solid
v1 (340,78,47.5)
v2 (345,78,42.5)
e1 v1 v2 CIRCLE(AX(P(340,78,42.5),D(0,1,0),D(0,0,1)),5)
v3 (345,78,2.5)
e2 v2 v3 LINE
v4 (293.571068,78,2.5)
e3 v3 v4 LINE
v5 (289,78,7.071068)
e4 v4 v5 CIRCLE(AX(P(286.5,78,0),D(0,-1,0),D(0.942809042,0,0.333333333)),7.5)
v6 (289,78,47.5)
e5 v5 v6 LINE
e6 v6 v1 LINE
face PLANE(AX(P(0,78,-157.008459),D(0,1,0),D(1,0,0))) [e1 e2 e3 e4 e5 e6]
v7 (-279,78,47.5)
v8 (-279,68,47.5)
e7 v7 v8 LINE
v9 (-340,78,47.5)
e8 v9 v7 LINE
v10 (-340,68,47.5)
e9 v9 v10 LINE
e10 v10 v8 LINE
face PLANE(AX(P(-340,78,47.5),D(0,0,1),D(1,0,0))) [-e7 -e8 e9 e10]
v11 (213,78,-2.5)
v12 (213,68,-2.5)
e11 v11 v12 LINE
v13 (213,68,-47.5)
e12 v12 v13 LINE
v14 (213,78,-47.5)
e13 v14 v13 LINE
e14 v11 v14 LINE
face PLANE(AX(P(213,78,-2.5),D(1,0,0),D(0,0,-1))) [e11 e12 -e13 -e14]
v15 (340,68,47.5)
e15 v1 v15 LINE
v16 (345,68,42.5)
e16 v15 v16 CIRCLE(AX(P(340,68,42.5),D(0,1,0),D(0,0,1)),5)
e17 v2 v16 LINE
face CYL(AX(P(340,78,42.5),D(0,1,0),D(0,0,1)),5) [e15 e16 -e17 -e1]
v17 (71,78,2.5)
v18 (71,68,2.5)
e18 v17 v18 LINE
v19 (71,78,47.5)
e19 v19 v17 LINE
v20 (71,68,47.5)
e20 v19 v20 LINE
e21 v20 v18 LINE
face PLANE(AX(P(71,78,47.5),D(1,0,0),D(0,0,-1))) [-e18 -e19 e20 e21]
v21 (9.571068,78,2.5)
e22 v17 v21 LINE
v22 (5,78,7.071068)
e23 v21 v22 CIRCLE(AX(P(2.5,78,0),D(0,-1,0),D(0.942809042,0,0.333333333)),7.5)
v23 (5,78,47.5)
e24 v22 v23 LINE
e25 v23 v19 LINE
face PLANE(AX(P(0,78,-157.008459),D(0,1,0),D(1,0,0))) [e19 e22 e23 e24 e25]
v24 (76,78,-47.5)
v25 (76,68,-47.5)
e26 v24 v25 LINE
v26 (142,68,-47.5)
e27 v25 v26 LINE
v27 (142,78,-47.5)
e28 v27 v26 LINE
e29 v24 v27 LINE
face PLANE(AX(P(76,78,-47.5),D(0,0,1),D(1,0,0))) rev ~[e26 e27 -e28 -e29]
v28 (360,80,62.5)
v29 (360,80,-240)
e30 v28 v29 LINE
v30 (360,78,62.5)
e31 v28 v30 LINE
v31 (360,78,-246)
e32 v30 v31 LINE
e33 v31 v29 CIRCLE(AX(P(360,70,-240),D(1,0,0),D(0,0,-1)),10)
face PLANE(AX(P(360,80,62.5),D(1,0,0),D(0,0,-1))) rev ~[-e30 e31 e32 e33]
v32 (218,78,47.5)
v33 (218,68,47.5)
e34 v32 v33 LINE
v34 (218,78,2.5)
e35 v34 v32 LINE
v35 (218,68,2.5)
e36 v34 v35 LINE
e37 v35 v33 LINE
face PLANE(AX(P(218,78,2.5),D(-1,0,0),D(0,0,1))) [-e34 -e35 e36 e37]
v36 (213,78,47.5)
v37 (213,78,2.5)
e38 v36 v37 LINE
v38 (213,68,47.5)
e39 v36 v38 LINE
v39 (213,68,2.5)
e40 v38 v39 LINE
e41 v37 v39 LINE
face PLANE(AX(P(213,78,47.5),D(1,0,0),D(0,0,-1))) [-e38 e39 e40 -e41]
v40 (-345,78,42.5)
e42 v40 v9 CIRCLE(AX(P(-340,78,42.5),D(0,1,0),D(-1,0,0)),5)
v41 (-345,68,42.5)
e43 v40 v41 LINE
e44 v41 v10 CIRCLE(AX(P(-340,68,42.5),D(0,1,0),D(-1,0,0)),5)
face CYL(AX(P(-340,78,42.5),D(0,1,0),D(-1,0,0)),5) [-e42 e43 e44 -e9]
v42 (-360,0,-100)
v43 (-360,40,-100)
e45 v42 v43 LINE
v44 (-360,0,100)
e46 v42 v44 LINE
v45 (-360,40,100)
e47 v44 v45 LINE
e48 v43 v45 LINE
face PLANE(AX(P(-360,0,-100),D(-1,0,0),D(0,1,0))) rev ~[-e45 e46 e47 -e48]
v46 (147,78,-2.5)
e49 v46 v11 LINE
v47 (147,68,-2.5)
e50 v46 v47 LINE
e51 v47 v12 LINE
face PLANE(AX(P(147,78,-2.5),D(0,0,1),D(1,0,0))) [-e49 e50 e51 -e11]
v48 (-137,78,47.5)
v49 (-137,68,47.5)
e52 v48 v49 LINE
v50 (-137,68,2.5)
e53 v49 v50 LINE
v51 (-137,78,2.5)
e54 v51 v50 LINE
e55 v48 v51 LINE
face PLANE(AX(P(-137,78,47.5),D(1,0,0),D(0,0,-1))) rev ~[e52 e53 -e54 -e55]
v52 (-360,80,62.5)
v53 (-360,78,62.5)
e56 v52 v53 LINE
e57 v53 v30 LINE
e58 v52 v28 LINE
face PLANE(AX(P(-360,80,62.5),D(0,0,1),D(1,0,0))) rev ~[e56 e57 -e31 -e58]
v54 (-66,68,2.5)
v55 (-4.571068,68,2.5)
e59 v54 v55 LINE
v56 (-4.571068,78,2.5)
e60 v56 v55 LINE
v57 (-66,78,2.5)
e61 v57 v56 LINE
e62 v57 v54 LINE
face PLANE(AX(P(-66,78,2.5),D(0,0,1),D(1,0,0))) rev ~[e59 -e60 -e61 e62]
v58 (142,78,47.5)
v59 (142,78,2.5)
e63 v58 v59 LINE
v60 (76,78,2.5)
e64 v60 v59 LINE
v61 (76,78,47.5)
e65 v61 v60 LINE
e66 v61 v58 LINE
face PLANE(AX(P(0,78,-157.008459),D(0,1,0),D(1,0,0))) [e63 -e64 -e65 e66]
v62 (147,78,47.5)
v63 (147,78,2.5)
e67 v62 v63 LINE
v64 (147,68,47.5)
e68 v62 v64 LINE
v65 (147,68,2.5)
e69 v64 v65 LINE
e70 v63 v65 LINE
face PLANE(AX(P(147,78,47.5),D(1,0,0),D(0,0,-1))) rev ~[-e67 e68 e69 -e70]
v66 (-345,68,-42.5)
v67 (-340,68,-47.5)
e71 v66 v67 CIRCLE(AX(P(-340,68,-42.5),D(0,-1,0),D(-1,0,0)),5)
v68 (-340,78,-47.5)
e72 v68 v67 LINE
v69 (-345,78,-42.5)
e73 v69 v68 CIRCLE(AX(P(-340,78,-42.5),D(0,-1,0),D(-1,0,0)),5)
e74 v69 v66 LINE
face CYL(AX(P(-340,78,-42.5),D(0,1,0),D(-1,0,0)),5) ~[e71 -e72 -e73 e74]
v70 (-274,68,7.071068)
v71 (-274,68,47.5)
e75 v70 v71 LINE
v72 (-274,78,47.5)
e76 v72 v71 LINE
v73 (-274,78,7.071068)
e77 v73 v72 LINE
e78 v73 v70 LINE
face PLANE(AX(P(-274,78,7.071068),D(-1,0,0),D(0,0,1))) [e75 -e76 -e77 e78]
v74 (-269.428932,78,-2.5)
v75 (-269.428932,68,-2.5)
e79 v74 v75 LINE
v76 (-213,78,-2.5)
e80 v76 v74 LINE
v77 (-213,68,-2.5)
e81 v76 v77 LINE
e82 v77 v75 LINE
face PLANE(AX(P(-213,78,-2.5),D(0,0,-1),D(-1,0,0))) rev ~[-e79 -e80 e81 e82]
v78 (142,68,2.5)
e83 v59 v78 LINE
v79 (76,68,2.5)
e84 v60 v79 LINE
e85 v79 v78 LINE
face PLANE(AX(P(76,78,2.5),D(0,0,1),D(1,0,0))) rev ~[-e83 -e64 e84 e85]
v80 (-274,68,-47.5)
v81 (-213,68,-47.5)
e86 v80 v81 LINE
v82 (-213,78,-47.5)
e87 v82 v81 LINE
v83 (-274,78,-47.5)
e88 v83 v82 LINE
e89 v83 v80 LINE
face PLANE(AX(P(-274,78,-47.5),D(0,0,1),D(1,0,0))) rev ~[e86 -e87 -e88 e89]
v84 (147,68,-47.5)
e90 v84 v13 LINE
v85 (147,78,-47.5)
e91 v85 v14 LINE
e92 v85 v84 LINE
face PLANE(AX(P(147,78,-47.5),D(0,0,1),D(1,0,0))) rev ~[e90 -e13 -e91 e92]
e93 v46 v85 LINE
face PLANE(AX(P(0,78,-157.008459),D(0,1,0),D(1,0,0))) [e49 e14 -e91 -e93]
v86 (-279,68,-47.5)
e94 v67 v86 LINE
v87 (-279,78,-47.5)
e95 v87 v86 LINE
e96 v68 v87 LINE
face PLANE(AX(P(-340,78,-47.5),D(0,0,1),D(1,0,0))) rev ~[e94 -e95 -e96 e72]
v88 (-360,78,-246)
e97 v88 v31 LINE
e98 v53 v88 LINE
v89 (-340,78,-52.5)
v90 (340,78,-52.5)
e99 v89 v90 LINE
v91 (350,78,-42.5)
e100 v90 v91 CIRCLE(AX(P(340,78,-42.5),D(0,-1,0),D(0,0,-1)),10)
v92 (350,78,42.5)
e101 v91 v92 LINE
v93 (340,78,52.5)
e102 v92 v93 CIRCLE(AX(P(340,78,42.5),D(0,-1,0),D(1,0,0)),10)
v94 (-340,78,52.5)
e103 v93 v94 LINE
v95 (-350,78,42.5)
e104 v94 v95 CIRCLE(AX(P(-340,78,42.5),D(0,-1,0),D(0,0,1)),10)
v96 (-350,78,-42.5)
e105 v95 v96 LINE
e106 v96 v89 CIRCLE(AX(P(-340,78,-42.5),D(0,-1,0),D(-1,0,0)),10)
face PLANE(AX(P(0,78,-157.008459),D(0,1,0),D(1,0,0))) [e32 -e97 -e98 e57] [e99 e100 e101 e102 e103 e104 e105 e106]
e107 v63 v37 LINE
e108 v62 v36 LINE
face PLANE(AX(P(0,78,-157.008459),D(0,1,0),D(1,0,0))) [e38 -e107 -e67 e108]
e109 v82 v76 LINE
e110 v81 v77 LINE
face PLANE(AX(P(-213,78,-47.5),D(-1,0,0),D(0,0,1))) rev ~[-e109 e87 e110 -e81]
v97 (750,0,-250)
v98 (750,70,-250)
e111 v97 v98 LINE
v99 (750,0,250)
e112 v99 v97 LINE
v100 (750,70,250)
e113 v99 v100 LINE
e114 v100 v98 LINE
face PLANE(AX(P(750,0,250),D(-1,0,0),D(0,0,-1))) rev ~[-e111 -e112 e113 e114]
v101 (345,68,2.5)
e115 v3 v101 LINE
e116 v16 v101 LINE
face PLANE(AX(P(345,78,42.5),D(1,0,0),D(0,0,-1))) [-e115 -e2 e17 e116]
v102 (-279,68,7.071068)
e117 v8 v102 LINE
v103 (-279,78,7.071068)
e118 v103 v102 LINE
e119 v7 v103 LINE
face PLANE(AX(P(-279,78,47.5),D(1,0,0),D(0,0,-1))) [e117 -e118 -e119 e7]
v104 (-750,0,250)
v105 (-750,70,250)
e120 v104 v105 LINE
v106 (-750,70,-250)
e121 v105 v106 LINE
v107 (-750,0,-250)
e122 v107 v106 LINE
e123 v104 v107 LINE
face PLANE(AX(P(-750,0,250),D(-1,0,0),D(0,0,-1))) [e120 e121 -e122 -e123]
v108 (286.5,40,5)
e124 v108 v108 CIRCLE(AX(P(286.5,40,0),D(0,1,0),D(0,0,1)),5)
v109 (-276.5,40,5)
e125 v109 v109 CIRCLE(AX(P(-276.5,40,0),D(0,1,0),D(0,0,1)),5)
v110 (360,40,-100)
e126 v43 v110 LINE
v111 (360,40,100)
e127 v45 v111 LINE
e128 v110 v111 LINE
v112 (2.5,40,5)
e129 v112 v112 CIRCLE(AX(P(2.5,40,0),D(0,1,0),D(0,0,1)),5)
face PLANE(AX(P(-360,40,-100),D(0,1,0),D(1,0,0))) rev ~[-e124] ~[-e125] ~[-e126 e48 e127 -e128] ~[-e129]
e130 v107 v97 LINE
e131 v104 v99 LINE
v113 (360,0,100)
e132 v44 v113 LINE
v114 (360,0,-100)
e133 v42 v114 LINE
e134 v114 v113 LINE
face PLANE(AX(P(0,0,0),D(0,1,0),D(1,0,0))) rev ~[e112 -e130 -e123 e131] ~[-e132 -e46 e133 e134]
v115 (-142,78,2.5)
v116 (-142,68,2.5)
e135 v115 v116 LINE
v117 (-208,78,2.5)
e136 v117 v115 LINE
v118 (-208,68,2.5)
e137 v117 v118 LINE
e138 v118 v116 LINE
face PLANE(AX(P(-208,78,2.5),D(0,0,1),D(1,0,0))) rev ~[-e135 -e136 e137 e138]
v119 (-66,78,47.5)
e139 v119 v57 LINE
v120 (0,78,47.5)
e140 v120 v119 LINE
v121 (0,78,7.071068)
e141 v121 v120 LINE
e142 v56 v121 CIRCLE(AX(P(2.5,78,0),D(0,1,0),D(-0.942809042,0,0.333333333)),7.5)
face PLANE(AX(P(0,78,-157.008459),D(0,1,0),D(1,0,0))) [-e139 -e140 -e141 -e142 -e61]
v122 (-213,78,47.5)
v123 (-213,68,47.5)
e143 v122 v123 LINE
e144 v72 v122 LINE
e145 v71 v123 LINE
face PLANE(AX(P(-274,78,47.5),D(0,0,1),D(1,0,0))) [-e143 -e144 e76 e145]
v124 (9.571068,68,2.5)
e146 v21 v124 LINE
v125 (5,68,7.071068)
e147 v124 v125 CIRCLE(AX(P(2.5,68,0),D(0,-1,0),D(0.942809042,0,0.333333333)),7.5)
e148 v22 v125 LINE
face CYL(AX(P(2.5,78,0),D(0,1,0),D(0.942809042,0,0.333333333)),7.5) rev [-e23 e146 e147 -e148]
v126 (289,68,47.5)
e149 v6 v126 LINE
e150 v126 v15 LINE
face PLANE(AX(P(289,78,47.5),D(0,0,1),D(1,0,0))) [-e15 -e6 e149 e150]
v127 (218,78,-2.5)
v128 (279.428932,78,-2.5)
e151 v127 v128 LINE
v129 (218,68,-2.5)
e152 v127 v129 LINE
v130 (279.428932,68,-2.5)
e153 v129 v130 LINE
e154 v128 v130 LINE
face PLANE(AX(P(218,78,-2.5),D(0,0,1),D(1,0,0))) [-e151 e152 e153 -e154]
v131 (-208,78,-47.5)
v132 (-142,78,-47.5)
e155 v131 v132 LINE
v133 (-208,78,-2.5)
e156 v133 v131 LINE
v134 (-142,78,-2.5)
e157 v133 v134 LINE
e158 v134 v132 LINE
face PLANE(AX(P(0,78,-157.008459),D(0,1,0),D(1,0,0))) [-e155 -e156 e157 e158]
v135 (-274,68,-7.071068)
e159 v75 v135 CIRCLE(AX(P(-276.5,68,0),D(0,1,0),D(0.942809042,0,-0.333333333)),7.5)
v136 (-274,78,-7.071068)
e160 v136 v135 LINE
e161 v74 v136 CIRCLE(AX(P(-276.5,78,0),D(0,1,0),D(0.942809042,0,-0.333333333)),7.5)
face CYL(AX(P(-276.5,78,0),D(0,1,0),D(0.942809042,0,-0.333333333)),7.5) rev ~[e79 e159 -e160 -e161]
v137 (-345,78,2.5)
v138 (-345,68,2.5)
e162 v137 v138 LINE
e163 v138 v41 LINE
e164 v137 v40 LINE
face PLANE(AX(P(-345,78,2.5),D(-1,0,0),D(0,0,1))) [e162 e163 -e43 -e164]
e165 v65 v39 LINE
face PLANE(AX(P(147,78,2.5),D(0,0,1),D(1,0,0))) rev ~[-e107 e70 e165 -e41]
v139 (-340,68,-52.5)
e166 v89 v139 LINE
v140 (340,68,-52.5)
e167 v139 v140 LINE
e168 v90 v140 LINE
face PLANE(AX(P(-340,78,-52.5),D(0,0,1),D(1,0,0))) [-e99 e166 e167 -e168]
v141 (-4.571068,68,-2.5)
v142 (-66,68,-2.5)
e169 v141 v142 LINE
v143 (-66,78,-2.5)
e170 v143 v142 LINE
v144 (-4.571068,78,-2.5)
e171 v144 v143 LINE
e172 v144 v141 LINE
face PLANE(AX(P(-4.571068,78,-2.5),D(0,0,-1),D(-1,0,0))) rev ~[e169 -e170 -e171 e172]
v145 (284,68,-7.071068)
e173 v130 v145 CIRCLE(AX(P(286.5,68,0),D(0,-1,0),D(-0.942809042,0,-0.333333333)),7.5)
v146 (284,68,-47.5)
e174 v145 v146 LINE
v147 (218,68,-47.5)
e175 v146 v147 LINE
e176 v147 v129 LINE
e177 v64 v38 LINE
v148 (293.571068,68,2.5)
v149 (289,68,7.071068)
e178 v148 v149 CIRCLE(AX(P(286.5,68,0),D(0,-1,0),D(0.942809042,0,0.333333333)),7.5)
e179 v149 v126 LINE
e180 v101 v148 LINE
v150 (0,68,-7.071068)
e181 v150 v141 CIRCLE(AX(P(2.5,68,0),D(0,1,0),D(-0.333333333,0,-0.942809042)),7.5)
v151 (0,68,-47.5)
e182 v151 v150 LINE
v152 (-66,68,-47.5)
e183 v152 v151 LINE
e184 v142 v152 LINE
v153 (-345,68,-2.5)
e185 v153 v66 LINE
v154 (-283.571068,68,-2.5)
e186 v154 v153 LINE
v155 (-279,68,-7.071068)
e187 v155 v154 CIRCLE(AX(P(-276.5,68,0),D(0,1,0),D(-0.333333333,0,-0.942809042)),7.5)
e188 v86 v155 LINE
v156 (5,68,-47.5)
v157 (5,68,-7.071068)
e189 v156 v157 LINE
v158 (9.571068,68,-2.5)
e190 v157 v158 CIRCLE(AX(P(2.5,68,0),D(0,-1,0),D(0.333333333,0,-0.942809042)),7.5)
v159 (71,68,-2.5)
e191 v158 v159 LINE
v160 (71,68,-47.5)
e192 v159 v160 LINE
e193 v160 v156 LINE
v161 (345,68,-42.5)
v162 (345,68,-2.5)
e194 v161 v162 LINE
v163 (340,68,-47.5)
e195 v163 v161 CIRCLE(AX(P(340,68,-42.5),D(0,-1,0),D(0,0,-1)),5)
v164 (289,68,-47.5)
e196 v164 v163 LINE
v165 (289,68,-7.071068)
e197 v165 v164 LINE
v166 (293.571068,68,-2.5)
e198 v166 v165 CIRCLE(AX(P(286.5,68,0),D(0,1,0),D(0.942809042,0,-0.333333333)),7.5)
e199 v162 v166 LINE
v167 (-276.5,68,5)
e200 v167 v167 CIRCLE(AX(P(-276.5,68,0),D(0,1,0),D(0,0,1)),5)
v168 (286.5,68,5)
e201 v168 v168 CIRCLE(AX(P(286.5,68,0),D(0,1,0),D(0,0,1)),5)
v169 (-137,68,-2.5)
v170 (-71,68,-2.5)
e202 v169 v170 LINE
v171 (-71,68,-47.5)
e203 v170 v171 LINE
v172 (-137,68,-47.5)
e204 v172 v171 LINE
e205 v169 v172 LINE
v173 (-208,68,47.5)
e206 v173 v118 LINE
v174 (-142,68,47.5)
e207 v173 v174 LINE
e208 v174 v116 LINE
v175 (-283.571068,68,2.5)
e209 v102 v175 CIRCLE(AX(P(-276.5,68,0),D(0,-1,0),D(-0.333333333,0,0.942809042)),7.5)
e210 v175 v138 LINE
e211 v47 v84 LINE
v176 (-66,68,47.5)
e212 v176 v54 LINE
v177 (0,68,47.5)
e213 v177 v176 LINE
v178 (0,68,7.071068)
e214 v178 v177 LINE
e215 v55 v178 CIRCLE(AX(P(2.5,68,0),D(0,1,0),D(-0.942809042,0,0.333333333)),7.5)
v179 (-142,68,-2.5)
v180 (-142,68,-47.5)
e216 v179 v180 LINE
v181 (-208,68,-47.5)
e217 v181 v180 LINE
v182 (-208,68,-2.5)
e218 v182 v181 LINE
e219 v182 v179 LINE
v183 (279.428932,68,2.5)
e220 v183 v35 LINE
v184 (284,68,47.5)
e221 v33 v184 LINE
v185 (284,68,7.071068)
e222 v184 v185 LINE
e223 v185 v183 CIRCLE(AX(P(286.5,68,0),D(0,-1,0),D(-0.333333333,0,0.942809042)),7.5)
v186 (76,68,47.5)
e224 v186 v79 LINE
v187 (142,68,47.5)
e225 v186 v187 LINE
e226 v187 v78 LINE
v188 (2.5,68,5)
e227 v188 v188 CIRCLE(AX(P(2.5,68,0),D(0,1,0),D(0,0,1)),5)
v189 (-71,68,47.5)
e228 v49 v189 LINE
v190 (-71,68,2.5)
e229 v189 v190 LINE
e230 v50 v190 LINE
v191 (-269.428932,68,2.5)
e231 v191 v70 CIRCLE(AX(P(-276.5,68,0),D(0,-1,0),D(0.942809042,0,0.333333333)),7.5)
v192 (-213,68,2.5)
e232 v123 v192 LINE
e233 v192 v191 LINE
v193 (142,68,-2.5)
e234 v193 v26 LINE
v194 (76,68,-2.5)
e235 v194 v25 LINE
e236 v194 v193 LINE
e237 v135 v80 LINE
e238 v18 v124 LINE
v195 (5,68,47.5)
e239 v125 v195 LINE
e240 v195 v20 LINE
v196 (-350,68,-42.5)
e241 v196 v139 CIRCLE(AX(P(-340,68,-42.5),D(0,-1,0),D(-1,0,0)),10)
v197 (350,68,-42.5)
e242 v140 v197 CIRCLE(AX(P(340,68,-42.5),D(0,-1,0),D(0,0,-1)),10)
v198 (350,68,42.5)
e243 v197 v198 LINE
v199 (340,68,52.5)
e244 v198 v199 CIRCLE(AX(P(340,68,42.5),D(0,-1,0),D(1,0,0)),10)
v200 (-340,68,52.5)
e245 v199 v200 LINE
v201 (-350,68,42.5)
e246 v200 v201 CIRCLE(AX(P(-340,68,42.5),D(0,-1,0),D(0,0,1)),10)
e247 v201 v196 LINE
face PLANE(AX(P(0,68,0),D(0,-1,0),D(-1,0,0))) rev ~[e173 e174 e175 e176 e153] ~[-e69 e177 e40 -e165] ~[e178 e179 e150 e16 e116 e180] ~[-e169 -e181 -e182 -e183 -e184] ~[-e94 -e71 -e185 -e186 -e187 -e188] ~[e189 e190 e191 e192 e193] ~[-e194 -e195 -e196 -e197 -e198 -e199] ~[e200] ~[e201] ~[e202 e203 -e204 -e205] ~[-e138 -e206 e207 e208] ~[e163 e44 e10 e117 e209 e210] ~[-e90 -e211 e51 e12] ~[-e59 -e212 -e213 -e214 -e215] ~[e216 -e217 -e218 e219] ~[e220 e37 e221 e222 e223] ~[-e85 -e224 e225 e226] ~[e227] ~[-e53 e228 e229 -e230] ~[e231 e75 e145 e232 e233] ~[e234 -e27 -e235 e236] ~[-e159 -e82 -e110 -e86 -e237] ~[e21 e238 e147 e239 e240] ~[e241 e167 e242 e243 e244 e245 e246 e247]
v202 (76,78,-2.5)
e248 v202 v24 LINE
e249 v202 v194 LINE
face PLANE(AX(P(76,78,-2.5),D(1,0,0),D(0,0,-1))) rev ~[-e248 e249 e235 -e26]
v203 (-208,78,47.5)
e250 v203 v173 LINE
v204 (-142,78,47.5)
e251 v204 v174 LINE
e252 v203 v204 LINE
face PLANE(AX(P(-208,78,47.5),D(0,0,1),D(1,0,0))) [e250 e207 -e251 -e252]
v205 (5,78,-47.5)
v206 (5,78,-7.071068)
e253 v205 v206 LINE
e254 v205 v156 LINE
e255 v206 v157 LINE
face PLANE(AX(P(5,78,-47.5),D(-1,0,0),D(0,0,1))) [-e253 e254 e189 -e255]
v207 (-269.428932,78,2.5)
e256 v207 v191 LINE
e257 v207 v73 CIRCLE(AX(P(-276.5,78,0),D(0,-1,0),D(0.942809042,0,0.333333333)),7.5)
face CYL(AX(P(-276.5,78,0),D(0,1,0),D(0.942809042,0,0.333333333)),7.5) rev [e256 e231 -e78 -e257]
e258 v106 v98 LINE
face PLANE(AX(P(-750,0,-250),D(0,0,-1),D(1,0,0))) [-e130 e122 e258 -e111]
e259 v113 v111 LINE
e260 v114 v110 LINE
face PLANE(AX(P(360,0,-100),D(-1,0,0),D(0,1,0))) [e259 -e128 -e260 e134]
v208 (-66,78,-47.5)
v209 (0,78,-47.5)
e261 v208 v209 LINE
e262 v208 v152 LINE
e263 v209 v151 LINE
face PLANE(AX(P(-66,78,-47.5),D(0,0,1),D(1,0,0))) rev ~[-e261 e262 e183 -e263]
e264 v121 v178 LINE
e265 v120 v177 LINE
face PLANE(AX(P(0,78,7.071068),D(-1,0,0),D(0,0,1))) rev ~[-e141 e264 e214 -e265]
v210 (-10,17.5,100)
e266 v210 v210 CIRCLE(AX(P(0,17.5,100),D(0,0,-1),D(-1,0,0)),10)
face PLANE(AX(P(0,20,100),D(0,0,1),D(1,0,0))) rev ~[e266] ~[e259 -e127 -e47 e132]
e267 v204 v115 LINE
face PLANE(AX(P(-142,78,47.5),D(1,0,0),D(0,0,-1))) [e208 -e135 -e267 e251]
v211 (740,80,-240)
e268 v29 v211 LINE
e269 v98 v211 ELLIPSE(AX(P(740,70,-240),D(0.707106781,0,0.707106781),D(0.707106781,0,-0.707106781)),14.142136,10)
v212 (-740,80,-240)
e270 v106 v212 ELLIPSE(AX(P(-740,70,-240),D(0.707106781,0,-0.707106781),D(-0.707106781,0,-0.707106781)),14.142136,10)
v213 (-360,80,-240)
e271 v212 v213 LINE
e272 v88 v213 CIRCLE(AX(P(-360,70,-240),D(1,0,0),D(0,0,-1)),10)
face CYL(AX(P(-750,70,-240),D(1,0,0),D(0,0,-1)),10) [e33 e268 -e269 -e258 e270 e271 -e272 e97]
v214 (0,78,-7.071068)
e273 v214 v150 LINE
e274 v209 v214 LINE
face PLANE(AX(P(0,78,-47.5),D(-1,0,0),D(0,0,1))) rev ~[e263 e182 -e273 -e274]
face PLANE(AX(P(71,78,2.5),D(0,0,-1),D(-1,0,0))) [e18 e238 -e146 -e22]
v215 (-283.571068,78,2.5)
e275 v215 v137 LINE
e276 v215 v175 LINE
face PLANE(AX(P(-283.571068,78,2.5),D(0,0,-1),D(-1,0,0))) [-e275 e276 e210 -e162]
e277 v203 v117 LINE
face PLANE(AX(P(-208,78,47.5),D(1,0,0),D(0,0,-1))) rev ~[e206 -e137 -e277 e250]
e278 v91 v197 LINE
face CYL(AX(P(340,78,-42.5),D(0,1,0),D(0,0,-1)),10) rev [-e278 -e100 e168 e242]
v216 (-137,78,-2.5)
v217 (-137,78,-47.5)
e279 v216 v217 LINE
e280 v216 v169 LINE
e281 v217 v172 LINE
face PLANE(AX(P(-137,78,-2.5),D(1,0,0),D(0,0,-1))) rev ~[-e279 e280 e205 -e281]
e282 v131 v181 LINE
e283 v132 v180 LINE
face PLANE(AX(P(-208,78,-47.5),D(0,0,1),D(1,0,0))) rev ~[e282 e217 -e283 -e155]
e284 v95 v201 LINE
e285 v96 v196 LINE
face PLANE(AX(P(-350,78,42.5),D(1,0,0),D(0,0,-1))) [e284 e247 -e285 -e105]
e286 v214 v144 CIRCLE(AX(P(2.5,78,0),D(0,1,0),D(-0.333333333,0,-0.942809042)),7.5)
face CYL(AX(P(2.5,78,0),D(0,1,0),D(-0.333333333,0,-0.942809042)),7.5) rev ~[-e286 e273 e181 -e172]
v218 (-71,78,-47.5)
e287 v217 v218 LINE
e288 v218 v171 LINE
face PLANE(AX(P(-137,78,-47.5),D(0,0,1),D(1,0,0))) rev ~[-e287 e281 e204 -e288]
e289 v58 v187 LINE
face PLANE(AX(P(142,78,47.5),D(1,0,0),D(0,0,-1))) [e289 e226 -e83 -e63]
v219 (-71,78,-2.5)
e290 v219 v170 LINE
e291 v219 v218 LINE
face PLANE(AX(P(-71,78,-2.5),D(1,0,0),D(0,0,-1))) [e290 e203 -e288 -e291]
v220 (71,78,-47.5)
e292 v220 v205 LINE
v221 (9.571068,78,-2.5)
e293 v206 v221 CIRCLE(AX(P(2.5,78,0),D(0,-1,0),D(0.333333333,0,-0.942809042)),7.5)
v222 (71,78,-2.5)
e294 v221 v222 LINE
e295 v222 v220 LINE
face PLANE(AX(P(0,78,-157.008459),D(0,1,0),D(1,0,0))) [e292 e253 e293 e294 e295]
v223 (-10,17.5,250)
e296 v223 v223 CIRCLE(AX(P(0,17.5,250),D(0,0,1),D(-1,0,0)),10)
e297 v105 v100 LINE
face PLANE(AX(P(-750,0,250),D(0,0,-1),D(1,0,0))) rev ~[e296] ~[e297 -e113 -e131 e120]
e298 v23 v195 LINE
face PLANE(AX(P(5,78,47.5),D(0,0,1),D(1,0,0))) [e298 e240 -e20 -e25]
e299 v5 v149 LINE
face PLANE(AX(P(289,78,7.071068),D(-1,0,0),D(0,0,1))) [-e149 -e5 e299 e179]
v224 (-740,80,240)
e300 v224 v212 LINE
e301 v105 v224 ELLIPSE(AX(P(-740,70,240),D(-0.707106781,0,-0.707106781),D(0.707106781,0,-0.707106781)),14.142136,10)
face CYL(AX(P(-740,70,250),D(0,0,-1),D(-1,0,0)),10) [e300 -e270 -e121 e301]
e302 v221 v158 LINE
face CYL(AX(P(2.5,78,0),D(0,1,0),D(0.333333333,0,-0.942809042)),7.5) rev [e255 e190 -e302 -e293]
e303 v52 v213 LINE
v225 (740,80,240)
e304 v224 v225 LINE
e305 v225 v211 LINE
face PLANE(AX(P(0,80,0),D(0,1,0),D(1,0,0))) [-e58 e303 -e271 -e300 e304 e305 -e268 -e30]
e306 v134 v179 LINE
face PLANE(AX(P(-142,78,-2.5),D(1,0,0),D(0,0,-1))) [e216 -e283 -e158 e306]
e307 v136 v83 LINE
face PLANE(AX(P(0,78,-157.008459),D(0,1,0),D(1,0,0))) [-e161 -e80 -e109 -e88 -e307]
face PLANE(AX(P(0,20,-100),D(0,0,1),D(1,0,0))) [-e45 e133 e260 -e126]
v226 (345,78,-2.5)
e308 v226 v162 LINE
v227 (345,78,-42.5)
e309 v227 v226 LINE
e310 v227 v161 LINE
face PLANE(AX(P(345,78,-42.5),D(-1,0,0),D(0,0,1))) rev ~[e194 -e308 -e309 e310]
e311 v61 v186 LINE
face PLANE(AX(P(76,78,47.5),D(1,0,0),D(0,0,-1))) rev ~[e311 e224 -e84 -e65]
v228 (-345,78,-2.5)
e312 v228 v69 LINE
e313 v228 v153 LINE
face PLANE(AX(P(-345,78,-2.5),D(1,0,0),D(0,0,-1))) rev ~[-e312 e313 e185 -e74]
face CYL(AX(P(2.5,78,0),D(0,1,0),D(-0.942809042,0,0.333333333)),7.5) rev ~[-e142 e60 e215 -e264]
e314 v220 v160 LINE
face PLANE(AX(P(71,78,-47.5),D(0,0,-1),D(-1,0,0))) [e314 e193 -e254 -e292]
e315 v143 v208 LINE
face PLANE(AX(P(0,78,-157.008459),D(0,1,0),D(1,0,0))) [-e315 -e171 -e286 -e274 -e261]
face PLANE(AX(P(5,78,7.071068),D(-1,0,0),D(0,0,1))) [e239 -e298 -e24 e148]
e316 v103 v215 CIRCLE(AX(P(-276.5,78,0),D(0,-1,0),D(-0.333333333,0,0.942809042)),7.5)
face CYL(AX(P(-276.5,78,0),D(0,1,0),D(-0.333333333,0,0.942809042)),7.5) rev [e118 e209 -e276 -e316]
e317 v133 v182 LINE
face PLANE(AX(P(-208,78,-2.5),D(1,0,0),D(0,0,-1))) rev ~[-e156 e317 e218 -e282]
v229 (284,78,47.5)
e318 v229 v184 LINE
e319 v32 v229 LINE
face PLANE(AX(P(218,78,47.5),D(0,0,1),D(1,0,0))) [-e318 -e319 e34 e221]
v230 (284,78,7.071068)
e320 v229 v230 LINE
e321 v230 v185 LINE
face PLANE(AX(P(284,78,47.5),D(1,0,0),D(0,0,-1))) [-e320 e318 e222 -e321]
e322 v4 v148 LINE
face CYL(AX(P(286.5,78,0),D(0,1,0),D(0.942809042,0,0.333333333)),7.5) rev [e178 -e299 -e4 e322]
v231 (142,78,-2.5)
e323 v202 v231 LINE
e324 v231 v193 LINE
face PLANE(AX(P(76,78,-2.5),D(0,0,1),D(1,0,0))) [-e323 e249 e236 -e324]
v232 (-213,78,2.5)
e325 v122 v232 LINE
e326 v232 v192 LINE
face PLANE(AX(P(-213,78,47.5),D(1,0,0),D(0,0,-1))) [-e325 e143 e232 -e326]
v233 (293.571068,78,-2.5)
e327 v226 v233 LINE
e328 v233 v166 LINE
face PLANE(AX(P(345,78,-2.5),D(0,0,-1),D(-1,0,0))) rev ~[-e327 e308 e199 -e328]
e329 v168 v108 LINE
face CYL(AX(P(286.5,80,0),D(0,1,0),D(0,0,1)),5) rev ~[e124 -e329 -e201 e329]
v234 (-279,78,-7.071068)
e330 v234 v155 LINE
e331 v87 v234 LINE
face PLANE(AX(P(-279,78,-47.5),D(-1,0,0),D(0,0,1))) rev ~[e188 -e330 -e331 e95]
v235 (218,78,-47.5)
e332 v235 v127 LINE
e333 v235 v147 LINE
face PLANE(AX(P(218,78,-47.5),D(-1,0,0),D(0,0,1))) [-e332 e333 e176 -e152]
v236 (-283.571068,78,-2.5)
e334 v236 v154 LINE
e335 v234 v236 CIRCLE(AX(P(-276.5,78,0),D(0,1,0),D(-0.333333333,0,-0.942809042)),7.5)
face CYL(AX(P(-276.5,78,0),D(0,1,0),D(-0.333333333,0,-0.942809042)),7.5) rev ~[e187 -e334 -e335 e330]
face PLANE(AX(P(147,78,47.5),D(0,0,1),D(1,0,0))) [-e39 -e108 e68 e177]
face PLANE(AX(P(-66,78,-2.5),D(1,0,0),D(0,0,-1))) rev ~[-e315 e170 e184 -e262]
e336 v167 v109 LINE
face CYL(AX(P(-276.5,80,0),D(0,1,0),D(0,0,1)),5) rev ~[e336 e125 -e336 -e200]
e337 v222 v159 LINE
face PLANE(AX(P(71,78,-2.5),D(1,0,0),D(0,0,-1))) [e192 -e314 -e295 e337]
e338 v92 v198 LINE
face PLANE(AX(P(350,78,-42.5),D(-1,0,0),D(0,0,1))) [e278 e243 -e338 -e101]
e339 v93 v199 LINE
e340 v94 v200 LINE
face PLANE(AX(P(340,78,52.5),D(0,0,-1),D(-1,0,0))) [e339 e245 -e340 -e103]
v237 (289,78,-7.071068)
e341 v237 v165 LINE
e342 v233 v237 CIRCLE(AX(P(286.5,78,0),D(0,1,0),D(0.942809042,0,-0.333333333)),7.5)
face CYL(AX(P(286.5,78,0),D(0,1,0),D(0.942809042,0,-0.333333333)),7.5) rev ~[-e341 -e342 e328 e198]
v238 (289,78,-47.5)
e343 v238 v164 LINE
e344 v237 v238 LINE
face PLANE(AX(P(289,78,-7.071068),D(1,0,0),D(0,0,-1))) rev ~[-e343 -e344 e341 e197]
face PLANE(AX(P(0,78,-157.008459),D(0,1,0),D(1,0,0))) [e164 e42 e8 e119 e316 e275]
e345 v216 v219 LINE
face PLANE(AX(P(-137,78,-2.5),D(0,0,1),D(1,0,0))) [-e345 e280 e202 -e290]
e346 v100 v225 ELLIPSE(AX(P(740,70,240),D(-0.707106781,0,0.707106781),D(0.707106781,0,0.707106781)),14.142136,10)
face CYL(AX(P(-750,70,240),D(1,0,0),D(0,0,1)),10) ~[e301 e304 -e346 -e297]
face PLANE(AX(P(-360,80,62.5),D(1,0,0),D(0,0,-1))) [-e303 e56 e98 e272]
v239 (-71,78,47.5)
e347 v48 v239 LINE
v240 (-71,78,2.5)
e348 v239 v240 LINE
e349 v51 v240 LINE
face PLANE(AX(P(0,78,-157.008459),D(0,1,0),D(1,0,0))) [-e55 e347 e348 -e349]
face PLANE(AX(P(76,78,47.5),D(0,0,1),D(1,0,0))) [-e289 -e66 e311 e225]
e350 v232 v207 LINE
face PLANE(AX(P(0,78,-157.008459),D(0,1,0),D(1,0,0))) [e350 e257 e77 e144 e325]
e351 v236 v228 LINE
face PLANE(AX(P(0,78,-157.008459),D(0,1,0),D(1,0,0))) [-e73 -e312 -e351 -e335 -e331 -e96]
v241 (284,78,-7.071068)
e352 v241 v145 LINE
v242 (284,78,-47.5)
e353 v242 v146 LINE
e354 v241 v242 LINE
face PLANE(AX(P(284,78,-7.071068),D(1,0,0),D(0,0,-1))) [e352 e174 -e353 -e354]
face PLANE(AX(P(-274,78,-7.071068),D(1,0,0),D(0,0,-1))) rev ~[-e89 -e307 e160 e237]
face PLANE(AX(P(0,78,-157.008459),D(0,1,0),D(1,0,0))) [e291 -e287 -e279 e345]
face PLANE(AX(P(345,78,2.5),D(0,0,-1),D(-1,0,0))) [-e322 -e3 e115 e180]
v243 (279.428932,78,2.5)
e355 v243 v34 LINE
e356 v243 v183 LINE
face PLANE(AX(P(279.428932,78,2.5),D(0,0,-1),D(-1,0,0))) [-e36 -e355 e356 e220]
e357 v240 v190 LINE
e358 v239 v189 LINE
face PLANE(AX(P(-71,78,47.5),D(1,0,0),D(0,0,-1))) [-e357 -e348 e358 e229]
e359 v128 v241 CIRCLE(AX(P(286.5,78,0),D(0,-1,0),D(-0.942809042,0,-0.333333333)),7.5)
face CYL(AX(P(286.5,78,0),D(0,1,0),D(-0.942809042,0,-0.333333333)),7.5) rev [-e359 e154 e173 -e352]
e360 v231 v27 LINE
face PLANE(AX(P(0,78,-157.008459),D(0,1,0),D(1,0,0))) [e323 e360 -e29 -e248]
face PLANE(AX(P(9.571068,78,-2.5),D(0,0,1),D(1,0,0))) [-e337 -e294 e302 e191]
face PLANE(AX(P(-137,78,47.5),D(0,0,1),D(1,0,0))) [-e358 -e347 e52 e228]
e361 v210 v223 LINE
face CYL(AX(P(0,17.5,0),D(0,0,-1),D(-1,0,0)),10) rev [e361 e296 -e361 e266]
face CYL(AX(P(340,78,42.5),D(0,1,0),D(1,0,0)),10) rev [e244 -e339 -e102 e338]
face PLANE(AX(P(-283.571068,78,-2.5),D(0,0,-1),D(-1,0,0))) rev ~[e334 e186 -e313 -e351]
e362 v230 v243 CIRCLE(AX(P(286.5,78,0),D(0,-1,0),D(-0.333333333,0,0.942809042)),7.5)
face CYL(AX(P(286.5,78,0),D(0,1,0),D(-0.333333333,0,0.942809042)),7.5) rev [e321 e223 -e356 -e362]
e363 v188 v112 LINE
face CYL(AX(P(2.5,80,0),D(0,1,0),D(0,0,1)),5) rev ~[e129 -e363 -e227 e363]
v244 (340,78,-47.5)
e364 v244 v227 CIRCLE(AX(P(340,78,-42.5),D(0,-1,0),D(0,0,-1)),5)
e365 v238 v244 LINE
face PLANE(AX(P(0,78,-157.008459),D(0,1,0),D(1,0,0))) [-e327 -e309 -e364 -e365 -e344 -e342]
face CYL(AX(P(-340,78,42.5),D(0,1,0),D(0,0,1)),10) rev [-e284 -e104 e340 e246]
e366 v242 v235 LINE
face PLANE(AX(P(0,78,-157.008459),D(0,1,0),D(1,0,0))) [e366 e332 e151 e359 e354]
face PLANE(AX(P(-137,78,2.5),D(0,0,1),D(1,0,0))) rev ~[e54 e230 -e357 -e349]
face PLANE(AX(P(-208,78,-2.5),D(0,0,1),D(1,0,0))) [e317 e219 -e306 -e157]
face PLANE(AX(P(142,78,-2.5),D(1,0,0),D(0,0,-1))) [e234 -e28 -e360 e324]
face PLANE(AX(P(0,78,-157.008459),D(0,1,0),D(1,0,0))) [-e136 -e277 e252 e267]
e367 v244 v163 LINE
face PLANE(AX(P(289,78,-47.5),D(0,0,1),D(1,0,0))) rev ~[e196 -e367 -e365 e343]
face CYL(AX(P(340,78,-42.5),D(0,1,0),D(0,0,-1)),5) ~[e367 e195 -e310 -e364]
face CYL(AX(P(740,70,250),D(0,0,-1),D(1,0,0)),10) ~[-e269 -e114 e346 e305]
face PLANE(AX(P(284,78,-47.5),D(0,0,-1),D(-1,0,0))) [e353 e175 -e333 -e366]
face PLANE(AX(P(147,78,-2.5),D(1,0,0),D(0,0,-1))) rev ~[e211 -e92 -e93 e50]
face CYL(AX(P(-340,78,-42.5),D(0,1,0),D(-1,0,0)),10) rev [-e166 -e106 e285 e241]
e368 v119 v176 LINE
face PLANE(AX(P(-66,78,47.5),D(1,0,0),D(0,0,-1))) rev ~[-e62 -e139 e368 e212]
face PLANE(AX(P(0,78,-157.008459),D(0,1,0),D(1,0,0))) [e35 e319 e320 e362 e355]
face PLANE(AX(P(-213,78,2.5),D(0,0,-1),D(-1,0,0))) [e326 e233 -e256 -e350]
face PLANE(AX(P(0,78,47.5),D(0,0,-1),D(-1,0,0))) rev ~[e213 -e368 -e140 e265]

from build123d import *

# Parameters (mm, degrees)
SKETCH1_W               = 1500
SKETCH1_H               = 500
BOSS_EXTRUDE1_DEPTH     = 80
FILLET2_R               = 10
CUT_EXTRUDE2_START      = 80
SKETCH7_W               = 720
SKETCH7_H               = 439.016917436
CUT_EXTRUDE2_DEPTH      = 2
CUT_EXTRUDE1_START      = 78
SKETCH5_W               = 66
SKETCH5_H               = 45
CUT_EXTRUDE1_DEPTH      = 10
CUT_EXTRUDE3_START      = 80
SKETCH8_R               = 5
CUT_EXTRUDE3_DEPTH      = 875.606821013
CUT_EXTRUDE4_DEPTH      = 100
CUT_EXTRUDE4_DEPTH_BACK = 100
SKETCH9_W               = 720
SKETCH9_H               = 40
SKETCH11_R              = 10
CUT_EXTRUDE5_DEPTH      = 250


with BuildPart() as part:
    # Sketch1 → Boss-Extrude1 (new body)
    with BuildSketch(Plane(origin=(0, 0, 0), x_dir=(1, 0, 0), z_dir=(0, 1, 0))):
        Rectangle(SKETCH1_W, SKETCH1_H)
    extrude(amount=BOSS_EXTRUDE1_DEPTH)

    # Fillet2
    fillet2_edges = [part.edges().sort_by_distance(p)[0] for p in [
        (-750, 80, 0),
        (0, 80, 250),
        (750, 80, 0),
        (0, 80, -250),
    ]]
    fillet(fillet2_edges, radius=FILLET2_R)

    # Sketch7 → Cut-Extrude2 (cut)
    with BuildSketch(Plane(origin=(0, 0, 0), x_dir=(1, 0, 0), z_dir=(0, 1, 0)).offset(CUT_EXTRUDE2_START)):
        with Locations((0, 157.008458718)):
            Rectangle(SKETCH7_W, SKETCH7_H)
    extrude(amount=-CUT_EXTRUDE2_DEPTH, mode=Mode.SUBTRACT)

    # Sketch5 → Cut-Extrude1 (cut)
    with BuildSketch(Plane(origin=(0, 0, 0), x_dir=(1, 0, 0), z_dir=(0, 1, 0)).offset(CUT_EXTRUDE1_START)):
        with BuildLine():
            Line((-340, 52.5), (340, 52.5))
            ThreePointArc((340, 52.5), (347.071067812, 49.571067812), (350, 42.5))
            Line((350, 42.5), (350, -42.5))
            ThreePointArc((350, -42.5), (347.071067812, -49.571067812), (340, -52.5))
            Line((340, -52.5), (-340, -52.5))
            ThreePointArc((-340, -52.5), (-347.071067812, -49.571067812), (-350, -42.5))
            Line((-350, -42.5), (-350, 42.5))
            ThreePointArc((-350, 42.5), (-347.071067812, 49.571067812), (-340, 52.5))
        make_face()
        with BuildLine():
            Line((-340, 47.5), (-279, 47.5))
            Line((-279, 47.5), (-279, 7.071067812))
            ThreePointArc((-279, 7.071067812), (-281.803300859, 5.303300859), (-283.571067812, 2.5))
            Line((-283.571067812, 2.5), (-345, 2.5))
            Line((-345, 2.5), (-345, 42.5))
            ThreePointArc((-345, 42.5), (-343.535533906, 46.035533906), (-340, 47.5))
        make_face(mode=Mode.SUBTRACT)
        with BuildLine():
            Line((-340, -47.5), (-279, -47.5))
            Line((-279, -47.5), (-279, -7.071067812))
            ThreePointArc((-279, -7.071067812), (-281.803300859, -5.303300859), (-283.571067812, -2.5))
            Line((-283.571067812, -2.5), (-345, -2.5))
            Line((-345, -2.5), (-345, -42.5))
            ThreePointArc((-345, -42.5), (-343.535533906, -46.035533906), (-340, -47.5))
        make_face(mode=Mode.SUBTRACT)
        with BuildLine():
            Line((345, 42.5), (345, 2.5))
            Line((345, 2.5), (293.571067812, 2.5))
            ThreePointArc((293.571067812, 2.5), (291.803300859, 5.303300859), (289, 7.071067812))
            Line((289, 7.071067812), (289, 47.5))
            Line((289, 47.5), (340, 47.5))
            ThreePointArc((340, 47.5), (343.535533906, 46.035533906), (345, 42.5))
        make_face(mode=Mode.SUBTRACT)
        with Locations((-175, -25)):
            Rectangle(SKETCH5_W, SKETCH5_H, mode=Mode.SUBTRACT)
        with BuildLine():
            Line((0, 47.5), (0, 7.071067812))
            ThreePointArc((0, 7.071067812), (-2.803300859, 5.303300859), (-4.571067812, 2.5))
            Line((-4.571067812, 2.5), (-66, 2.5))
            Line((-66, 2.5), (-66, 47.5))
            Line((-66, 47.5), (0, 47.5))
        make_face(mode=Mode.SUBTRACT)
        with BuildLine():
            Line((5, 47.5), (5, 7.071067812))
            ThreePointArc((5, 7.071067812), (7.803300859, 5.303300859), (9.571067812, 2.5))
            Line((9.571067812, 2.5), (71, 2.5))
            Line((71, 2.5), (71, 47.5))
            Line((71, 47.5), (5, 47.5))
        make_face(mode=Mode.SUBTRACT)
        with Locations((-104, 25)):
            Rectangle(SKETCH5_W, SKETCH5_H, mode=Mode.SUBTRACT)
        with Locations((109, 25)):
            Rectangle(SKETCH5_W, SKETCH5_H, mode=Mode.SUBTRACT)
        with Locations((180, 25)):
            Rectangle(SKETCH5_W, SKETCH5_H, mode=Mode.SUBTRACT)
        with BuildLine():
            Line((218, 47.5), (218, 2.5))
            Line((218, 2.5), (279.428932188, 2.5))
            ThreePointArc((279.428932188, 2.5), (281.196699141, 5.303300859), (284, 7.071067812))
            Line((284, 7.071067812), (284, 47.5))
            Line((284, 47.5), (218, 47.5))
        make_face(mode=Mode.SUBTRACT)
        with Locations((-175, 25)):
            Rectangle(SKETCH5_W, SKETCH5_H, mode=Mode.SUBTRACT)
        with BuildLine():
            Line((-213, 47.5), (-213, 2.5))
            Line((-213, 2.5), (-269.428932188, 2.5))
            ThreePointArc((-269.428932188, 2.5), (-271.196699141, 5.303300859), (-274, 7.071067812))
            Line((-274, 7.071067812), (-274, 47.5))
            Line((-274, 47.5), (-213, 47.5))
        make_face(mode=Mode.SUBTRACT)
        with BuildLine():
            Line((-274, -7.071067812), (-274, -47.5))
            Line((-274, -47.5), (-213, -47.5))
            Line((-213, -47.5), (-213, -2.5))
            Line((-213, -2.5), (-269.428932188, -2.5))
            ThreePointArc((-269.428932188, -2.5), (-271.196699141, -5.303300859), (-274, -7.071067812))
        make_face(mode=Mode.SUBTRACT)
        with Locations((-104, -25)):
            Rectangle(SKETCH5_W, SKETCH5_H, mode=Mode.SUBTRACT)
        with BuildLine():
            Line((-66, -2.5), (-4.571067812, -2.5))
            ThreePointArc((-4.571067812, -2.5), (-2.803300859, -5.303300859), (0, -7.071067812))
            Line((0, -7.071067812), (0, -47.5))
            Line((0, -47.5), (-66, -47.5))
            Line((-66, -47.5), (-66, -2.5))
        make_face(mode=Mode.SUBTRACT)
        with BuildLine():
            Line((5, -7.071067812), (5, -47.5))
            Line((5, -47.5), (71, -47.5))
            Line((71, -47.5), (71, -2.5))
            Line((71, -2.5), (9.571067812, -2.5))
            ThreePointArc((9.571067812, -2.5), (7.803300859, -5.303300859), (5, -7.071067812))
        make_face(mode=Mode.SUBTRACT)
        with Locations((109, -25)):
            Rectangle(SKETCH5_W, SKETCH5_H, mode=Mode.SUBTRACT)
        with Locations((180, -25)):
            Rectangle(SKETCH5_W, SKETCH5_H, mode=Mode.SUBTRACT)
        with BuildLine():
            Line((218, -2.5), (218, -47.5))
            Line((218, -47.5), (284, -47.5))
            Line((284, -47.5), (284, -7.071067812))
            ThreePointArc((284, -7.071067812), (281.196699141, -5.303300859), (279.428932188, -2.5))
            Line((279.428932188, -2.5), (218, -2.5))
        make_face(mode=Mode.SUBTRACT)
        with BuildLine():
            Line((289, -7.071067812), (289, -47.5))
            Line((289, -47.5), (340, -47.5))
            ThreePointArc((340, -47.5), (343.535533906, -46.035533906), (345, -42.5))
            Line((345, -42.5), (345, -2.5))
            Line((345, -2.5), (293.571067812, -2.5))
            ThreePointArc((293.571067812, -2.5), (291.803300859, -5.303300859), (289, -7.071067812))
        make_face(mode=Mode.SUBTRACT)
    extrude(amount=-CUT_EXTRUDE1_DEPTH, mode=Mode.SUBTRACT)

    # Sketch8 → Cut-Extrude3 (cut, through all)
    with BuildSketch(Plane(origin=(0, 0, 0), x_dir=(1, 0, 0), z_dir=(0, 1, 0)).offset(CUT_EXTRUDE3_START)):
        with Locations(Location((-276.5, 0, 0), (0, 0, 270))):
            Circle(SKETCH8_R)
        with Locations(Location((2.5, 0, 0), (0, 0, 270))):
            Circle(SKETCH8_R)
        with Locations(Location((286.5, 0, 0), (0, 0, 270))):
            Circle(SKETCH8_R)
    extrude(amount=-CUT_EXTRUDE3_DEPTH, mode=Mode.SUBTRACT)

    # Sketch9 → Cut-Extrude4 (cut, two sides: drawn at the far end of the back side and taken through both)
    with BuildSketch(Plane.XY.offset(-CUT_EXTRUDE4_DEPTH_BACK)):
        with Locations((0, 20)):
            Rectangle(SKETCH9_W, SKETCH9_H)
    extrude(amount=CUT_EXTRUDE4_DEPTH + CUT_EXTRUDE4_DEPTH_BACK, mode=Mode.SUBTRACT)

    # Sketch11 → Cut-Extrude5 (cut)
    with BuildSketch(Plane.XY):
        with Locations(Location((0, 17.5, 0), (0, 0, 180))):
            Circle(SKETCH11_R)
    extrude(amount=CUT_EXTRUDE5_DEPTH, mode=Mode.SUBTRACT)


solid = part.part
